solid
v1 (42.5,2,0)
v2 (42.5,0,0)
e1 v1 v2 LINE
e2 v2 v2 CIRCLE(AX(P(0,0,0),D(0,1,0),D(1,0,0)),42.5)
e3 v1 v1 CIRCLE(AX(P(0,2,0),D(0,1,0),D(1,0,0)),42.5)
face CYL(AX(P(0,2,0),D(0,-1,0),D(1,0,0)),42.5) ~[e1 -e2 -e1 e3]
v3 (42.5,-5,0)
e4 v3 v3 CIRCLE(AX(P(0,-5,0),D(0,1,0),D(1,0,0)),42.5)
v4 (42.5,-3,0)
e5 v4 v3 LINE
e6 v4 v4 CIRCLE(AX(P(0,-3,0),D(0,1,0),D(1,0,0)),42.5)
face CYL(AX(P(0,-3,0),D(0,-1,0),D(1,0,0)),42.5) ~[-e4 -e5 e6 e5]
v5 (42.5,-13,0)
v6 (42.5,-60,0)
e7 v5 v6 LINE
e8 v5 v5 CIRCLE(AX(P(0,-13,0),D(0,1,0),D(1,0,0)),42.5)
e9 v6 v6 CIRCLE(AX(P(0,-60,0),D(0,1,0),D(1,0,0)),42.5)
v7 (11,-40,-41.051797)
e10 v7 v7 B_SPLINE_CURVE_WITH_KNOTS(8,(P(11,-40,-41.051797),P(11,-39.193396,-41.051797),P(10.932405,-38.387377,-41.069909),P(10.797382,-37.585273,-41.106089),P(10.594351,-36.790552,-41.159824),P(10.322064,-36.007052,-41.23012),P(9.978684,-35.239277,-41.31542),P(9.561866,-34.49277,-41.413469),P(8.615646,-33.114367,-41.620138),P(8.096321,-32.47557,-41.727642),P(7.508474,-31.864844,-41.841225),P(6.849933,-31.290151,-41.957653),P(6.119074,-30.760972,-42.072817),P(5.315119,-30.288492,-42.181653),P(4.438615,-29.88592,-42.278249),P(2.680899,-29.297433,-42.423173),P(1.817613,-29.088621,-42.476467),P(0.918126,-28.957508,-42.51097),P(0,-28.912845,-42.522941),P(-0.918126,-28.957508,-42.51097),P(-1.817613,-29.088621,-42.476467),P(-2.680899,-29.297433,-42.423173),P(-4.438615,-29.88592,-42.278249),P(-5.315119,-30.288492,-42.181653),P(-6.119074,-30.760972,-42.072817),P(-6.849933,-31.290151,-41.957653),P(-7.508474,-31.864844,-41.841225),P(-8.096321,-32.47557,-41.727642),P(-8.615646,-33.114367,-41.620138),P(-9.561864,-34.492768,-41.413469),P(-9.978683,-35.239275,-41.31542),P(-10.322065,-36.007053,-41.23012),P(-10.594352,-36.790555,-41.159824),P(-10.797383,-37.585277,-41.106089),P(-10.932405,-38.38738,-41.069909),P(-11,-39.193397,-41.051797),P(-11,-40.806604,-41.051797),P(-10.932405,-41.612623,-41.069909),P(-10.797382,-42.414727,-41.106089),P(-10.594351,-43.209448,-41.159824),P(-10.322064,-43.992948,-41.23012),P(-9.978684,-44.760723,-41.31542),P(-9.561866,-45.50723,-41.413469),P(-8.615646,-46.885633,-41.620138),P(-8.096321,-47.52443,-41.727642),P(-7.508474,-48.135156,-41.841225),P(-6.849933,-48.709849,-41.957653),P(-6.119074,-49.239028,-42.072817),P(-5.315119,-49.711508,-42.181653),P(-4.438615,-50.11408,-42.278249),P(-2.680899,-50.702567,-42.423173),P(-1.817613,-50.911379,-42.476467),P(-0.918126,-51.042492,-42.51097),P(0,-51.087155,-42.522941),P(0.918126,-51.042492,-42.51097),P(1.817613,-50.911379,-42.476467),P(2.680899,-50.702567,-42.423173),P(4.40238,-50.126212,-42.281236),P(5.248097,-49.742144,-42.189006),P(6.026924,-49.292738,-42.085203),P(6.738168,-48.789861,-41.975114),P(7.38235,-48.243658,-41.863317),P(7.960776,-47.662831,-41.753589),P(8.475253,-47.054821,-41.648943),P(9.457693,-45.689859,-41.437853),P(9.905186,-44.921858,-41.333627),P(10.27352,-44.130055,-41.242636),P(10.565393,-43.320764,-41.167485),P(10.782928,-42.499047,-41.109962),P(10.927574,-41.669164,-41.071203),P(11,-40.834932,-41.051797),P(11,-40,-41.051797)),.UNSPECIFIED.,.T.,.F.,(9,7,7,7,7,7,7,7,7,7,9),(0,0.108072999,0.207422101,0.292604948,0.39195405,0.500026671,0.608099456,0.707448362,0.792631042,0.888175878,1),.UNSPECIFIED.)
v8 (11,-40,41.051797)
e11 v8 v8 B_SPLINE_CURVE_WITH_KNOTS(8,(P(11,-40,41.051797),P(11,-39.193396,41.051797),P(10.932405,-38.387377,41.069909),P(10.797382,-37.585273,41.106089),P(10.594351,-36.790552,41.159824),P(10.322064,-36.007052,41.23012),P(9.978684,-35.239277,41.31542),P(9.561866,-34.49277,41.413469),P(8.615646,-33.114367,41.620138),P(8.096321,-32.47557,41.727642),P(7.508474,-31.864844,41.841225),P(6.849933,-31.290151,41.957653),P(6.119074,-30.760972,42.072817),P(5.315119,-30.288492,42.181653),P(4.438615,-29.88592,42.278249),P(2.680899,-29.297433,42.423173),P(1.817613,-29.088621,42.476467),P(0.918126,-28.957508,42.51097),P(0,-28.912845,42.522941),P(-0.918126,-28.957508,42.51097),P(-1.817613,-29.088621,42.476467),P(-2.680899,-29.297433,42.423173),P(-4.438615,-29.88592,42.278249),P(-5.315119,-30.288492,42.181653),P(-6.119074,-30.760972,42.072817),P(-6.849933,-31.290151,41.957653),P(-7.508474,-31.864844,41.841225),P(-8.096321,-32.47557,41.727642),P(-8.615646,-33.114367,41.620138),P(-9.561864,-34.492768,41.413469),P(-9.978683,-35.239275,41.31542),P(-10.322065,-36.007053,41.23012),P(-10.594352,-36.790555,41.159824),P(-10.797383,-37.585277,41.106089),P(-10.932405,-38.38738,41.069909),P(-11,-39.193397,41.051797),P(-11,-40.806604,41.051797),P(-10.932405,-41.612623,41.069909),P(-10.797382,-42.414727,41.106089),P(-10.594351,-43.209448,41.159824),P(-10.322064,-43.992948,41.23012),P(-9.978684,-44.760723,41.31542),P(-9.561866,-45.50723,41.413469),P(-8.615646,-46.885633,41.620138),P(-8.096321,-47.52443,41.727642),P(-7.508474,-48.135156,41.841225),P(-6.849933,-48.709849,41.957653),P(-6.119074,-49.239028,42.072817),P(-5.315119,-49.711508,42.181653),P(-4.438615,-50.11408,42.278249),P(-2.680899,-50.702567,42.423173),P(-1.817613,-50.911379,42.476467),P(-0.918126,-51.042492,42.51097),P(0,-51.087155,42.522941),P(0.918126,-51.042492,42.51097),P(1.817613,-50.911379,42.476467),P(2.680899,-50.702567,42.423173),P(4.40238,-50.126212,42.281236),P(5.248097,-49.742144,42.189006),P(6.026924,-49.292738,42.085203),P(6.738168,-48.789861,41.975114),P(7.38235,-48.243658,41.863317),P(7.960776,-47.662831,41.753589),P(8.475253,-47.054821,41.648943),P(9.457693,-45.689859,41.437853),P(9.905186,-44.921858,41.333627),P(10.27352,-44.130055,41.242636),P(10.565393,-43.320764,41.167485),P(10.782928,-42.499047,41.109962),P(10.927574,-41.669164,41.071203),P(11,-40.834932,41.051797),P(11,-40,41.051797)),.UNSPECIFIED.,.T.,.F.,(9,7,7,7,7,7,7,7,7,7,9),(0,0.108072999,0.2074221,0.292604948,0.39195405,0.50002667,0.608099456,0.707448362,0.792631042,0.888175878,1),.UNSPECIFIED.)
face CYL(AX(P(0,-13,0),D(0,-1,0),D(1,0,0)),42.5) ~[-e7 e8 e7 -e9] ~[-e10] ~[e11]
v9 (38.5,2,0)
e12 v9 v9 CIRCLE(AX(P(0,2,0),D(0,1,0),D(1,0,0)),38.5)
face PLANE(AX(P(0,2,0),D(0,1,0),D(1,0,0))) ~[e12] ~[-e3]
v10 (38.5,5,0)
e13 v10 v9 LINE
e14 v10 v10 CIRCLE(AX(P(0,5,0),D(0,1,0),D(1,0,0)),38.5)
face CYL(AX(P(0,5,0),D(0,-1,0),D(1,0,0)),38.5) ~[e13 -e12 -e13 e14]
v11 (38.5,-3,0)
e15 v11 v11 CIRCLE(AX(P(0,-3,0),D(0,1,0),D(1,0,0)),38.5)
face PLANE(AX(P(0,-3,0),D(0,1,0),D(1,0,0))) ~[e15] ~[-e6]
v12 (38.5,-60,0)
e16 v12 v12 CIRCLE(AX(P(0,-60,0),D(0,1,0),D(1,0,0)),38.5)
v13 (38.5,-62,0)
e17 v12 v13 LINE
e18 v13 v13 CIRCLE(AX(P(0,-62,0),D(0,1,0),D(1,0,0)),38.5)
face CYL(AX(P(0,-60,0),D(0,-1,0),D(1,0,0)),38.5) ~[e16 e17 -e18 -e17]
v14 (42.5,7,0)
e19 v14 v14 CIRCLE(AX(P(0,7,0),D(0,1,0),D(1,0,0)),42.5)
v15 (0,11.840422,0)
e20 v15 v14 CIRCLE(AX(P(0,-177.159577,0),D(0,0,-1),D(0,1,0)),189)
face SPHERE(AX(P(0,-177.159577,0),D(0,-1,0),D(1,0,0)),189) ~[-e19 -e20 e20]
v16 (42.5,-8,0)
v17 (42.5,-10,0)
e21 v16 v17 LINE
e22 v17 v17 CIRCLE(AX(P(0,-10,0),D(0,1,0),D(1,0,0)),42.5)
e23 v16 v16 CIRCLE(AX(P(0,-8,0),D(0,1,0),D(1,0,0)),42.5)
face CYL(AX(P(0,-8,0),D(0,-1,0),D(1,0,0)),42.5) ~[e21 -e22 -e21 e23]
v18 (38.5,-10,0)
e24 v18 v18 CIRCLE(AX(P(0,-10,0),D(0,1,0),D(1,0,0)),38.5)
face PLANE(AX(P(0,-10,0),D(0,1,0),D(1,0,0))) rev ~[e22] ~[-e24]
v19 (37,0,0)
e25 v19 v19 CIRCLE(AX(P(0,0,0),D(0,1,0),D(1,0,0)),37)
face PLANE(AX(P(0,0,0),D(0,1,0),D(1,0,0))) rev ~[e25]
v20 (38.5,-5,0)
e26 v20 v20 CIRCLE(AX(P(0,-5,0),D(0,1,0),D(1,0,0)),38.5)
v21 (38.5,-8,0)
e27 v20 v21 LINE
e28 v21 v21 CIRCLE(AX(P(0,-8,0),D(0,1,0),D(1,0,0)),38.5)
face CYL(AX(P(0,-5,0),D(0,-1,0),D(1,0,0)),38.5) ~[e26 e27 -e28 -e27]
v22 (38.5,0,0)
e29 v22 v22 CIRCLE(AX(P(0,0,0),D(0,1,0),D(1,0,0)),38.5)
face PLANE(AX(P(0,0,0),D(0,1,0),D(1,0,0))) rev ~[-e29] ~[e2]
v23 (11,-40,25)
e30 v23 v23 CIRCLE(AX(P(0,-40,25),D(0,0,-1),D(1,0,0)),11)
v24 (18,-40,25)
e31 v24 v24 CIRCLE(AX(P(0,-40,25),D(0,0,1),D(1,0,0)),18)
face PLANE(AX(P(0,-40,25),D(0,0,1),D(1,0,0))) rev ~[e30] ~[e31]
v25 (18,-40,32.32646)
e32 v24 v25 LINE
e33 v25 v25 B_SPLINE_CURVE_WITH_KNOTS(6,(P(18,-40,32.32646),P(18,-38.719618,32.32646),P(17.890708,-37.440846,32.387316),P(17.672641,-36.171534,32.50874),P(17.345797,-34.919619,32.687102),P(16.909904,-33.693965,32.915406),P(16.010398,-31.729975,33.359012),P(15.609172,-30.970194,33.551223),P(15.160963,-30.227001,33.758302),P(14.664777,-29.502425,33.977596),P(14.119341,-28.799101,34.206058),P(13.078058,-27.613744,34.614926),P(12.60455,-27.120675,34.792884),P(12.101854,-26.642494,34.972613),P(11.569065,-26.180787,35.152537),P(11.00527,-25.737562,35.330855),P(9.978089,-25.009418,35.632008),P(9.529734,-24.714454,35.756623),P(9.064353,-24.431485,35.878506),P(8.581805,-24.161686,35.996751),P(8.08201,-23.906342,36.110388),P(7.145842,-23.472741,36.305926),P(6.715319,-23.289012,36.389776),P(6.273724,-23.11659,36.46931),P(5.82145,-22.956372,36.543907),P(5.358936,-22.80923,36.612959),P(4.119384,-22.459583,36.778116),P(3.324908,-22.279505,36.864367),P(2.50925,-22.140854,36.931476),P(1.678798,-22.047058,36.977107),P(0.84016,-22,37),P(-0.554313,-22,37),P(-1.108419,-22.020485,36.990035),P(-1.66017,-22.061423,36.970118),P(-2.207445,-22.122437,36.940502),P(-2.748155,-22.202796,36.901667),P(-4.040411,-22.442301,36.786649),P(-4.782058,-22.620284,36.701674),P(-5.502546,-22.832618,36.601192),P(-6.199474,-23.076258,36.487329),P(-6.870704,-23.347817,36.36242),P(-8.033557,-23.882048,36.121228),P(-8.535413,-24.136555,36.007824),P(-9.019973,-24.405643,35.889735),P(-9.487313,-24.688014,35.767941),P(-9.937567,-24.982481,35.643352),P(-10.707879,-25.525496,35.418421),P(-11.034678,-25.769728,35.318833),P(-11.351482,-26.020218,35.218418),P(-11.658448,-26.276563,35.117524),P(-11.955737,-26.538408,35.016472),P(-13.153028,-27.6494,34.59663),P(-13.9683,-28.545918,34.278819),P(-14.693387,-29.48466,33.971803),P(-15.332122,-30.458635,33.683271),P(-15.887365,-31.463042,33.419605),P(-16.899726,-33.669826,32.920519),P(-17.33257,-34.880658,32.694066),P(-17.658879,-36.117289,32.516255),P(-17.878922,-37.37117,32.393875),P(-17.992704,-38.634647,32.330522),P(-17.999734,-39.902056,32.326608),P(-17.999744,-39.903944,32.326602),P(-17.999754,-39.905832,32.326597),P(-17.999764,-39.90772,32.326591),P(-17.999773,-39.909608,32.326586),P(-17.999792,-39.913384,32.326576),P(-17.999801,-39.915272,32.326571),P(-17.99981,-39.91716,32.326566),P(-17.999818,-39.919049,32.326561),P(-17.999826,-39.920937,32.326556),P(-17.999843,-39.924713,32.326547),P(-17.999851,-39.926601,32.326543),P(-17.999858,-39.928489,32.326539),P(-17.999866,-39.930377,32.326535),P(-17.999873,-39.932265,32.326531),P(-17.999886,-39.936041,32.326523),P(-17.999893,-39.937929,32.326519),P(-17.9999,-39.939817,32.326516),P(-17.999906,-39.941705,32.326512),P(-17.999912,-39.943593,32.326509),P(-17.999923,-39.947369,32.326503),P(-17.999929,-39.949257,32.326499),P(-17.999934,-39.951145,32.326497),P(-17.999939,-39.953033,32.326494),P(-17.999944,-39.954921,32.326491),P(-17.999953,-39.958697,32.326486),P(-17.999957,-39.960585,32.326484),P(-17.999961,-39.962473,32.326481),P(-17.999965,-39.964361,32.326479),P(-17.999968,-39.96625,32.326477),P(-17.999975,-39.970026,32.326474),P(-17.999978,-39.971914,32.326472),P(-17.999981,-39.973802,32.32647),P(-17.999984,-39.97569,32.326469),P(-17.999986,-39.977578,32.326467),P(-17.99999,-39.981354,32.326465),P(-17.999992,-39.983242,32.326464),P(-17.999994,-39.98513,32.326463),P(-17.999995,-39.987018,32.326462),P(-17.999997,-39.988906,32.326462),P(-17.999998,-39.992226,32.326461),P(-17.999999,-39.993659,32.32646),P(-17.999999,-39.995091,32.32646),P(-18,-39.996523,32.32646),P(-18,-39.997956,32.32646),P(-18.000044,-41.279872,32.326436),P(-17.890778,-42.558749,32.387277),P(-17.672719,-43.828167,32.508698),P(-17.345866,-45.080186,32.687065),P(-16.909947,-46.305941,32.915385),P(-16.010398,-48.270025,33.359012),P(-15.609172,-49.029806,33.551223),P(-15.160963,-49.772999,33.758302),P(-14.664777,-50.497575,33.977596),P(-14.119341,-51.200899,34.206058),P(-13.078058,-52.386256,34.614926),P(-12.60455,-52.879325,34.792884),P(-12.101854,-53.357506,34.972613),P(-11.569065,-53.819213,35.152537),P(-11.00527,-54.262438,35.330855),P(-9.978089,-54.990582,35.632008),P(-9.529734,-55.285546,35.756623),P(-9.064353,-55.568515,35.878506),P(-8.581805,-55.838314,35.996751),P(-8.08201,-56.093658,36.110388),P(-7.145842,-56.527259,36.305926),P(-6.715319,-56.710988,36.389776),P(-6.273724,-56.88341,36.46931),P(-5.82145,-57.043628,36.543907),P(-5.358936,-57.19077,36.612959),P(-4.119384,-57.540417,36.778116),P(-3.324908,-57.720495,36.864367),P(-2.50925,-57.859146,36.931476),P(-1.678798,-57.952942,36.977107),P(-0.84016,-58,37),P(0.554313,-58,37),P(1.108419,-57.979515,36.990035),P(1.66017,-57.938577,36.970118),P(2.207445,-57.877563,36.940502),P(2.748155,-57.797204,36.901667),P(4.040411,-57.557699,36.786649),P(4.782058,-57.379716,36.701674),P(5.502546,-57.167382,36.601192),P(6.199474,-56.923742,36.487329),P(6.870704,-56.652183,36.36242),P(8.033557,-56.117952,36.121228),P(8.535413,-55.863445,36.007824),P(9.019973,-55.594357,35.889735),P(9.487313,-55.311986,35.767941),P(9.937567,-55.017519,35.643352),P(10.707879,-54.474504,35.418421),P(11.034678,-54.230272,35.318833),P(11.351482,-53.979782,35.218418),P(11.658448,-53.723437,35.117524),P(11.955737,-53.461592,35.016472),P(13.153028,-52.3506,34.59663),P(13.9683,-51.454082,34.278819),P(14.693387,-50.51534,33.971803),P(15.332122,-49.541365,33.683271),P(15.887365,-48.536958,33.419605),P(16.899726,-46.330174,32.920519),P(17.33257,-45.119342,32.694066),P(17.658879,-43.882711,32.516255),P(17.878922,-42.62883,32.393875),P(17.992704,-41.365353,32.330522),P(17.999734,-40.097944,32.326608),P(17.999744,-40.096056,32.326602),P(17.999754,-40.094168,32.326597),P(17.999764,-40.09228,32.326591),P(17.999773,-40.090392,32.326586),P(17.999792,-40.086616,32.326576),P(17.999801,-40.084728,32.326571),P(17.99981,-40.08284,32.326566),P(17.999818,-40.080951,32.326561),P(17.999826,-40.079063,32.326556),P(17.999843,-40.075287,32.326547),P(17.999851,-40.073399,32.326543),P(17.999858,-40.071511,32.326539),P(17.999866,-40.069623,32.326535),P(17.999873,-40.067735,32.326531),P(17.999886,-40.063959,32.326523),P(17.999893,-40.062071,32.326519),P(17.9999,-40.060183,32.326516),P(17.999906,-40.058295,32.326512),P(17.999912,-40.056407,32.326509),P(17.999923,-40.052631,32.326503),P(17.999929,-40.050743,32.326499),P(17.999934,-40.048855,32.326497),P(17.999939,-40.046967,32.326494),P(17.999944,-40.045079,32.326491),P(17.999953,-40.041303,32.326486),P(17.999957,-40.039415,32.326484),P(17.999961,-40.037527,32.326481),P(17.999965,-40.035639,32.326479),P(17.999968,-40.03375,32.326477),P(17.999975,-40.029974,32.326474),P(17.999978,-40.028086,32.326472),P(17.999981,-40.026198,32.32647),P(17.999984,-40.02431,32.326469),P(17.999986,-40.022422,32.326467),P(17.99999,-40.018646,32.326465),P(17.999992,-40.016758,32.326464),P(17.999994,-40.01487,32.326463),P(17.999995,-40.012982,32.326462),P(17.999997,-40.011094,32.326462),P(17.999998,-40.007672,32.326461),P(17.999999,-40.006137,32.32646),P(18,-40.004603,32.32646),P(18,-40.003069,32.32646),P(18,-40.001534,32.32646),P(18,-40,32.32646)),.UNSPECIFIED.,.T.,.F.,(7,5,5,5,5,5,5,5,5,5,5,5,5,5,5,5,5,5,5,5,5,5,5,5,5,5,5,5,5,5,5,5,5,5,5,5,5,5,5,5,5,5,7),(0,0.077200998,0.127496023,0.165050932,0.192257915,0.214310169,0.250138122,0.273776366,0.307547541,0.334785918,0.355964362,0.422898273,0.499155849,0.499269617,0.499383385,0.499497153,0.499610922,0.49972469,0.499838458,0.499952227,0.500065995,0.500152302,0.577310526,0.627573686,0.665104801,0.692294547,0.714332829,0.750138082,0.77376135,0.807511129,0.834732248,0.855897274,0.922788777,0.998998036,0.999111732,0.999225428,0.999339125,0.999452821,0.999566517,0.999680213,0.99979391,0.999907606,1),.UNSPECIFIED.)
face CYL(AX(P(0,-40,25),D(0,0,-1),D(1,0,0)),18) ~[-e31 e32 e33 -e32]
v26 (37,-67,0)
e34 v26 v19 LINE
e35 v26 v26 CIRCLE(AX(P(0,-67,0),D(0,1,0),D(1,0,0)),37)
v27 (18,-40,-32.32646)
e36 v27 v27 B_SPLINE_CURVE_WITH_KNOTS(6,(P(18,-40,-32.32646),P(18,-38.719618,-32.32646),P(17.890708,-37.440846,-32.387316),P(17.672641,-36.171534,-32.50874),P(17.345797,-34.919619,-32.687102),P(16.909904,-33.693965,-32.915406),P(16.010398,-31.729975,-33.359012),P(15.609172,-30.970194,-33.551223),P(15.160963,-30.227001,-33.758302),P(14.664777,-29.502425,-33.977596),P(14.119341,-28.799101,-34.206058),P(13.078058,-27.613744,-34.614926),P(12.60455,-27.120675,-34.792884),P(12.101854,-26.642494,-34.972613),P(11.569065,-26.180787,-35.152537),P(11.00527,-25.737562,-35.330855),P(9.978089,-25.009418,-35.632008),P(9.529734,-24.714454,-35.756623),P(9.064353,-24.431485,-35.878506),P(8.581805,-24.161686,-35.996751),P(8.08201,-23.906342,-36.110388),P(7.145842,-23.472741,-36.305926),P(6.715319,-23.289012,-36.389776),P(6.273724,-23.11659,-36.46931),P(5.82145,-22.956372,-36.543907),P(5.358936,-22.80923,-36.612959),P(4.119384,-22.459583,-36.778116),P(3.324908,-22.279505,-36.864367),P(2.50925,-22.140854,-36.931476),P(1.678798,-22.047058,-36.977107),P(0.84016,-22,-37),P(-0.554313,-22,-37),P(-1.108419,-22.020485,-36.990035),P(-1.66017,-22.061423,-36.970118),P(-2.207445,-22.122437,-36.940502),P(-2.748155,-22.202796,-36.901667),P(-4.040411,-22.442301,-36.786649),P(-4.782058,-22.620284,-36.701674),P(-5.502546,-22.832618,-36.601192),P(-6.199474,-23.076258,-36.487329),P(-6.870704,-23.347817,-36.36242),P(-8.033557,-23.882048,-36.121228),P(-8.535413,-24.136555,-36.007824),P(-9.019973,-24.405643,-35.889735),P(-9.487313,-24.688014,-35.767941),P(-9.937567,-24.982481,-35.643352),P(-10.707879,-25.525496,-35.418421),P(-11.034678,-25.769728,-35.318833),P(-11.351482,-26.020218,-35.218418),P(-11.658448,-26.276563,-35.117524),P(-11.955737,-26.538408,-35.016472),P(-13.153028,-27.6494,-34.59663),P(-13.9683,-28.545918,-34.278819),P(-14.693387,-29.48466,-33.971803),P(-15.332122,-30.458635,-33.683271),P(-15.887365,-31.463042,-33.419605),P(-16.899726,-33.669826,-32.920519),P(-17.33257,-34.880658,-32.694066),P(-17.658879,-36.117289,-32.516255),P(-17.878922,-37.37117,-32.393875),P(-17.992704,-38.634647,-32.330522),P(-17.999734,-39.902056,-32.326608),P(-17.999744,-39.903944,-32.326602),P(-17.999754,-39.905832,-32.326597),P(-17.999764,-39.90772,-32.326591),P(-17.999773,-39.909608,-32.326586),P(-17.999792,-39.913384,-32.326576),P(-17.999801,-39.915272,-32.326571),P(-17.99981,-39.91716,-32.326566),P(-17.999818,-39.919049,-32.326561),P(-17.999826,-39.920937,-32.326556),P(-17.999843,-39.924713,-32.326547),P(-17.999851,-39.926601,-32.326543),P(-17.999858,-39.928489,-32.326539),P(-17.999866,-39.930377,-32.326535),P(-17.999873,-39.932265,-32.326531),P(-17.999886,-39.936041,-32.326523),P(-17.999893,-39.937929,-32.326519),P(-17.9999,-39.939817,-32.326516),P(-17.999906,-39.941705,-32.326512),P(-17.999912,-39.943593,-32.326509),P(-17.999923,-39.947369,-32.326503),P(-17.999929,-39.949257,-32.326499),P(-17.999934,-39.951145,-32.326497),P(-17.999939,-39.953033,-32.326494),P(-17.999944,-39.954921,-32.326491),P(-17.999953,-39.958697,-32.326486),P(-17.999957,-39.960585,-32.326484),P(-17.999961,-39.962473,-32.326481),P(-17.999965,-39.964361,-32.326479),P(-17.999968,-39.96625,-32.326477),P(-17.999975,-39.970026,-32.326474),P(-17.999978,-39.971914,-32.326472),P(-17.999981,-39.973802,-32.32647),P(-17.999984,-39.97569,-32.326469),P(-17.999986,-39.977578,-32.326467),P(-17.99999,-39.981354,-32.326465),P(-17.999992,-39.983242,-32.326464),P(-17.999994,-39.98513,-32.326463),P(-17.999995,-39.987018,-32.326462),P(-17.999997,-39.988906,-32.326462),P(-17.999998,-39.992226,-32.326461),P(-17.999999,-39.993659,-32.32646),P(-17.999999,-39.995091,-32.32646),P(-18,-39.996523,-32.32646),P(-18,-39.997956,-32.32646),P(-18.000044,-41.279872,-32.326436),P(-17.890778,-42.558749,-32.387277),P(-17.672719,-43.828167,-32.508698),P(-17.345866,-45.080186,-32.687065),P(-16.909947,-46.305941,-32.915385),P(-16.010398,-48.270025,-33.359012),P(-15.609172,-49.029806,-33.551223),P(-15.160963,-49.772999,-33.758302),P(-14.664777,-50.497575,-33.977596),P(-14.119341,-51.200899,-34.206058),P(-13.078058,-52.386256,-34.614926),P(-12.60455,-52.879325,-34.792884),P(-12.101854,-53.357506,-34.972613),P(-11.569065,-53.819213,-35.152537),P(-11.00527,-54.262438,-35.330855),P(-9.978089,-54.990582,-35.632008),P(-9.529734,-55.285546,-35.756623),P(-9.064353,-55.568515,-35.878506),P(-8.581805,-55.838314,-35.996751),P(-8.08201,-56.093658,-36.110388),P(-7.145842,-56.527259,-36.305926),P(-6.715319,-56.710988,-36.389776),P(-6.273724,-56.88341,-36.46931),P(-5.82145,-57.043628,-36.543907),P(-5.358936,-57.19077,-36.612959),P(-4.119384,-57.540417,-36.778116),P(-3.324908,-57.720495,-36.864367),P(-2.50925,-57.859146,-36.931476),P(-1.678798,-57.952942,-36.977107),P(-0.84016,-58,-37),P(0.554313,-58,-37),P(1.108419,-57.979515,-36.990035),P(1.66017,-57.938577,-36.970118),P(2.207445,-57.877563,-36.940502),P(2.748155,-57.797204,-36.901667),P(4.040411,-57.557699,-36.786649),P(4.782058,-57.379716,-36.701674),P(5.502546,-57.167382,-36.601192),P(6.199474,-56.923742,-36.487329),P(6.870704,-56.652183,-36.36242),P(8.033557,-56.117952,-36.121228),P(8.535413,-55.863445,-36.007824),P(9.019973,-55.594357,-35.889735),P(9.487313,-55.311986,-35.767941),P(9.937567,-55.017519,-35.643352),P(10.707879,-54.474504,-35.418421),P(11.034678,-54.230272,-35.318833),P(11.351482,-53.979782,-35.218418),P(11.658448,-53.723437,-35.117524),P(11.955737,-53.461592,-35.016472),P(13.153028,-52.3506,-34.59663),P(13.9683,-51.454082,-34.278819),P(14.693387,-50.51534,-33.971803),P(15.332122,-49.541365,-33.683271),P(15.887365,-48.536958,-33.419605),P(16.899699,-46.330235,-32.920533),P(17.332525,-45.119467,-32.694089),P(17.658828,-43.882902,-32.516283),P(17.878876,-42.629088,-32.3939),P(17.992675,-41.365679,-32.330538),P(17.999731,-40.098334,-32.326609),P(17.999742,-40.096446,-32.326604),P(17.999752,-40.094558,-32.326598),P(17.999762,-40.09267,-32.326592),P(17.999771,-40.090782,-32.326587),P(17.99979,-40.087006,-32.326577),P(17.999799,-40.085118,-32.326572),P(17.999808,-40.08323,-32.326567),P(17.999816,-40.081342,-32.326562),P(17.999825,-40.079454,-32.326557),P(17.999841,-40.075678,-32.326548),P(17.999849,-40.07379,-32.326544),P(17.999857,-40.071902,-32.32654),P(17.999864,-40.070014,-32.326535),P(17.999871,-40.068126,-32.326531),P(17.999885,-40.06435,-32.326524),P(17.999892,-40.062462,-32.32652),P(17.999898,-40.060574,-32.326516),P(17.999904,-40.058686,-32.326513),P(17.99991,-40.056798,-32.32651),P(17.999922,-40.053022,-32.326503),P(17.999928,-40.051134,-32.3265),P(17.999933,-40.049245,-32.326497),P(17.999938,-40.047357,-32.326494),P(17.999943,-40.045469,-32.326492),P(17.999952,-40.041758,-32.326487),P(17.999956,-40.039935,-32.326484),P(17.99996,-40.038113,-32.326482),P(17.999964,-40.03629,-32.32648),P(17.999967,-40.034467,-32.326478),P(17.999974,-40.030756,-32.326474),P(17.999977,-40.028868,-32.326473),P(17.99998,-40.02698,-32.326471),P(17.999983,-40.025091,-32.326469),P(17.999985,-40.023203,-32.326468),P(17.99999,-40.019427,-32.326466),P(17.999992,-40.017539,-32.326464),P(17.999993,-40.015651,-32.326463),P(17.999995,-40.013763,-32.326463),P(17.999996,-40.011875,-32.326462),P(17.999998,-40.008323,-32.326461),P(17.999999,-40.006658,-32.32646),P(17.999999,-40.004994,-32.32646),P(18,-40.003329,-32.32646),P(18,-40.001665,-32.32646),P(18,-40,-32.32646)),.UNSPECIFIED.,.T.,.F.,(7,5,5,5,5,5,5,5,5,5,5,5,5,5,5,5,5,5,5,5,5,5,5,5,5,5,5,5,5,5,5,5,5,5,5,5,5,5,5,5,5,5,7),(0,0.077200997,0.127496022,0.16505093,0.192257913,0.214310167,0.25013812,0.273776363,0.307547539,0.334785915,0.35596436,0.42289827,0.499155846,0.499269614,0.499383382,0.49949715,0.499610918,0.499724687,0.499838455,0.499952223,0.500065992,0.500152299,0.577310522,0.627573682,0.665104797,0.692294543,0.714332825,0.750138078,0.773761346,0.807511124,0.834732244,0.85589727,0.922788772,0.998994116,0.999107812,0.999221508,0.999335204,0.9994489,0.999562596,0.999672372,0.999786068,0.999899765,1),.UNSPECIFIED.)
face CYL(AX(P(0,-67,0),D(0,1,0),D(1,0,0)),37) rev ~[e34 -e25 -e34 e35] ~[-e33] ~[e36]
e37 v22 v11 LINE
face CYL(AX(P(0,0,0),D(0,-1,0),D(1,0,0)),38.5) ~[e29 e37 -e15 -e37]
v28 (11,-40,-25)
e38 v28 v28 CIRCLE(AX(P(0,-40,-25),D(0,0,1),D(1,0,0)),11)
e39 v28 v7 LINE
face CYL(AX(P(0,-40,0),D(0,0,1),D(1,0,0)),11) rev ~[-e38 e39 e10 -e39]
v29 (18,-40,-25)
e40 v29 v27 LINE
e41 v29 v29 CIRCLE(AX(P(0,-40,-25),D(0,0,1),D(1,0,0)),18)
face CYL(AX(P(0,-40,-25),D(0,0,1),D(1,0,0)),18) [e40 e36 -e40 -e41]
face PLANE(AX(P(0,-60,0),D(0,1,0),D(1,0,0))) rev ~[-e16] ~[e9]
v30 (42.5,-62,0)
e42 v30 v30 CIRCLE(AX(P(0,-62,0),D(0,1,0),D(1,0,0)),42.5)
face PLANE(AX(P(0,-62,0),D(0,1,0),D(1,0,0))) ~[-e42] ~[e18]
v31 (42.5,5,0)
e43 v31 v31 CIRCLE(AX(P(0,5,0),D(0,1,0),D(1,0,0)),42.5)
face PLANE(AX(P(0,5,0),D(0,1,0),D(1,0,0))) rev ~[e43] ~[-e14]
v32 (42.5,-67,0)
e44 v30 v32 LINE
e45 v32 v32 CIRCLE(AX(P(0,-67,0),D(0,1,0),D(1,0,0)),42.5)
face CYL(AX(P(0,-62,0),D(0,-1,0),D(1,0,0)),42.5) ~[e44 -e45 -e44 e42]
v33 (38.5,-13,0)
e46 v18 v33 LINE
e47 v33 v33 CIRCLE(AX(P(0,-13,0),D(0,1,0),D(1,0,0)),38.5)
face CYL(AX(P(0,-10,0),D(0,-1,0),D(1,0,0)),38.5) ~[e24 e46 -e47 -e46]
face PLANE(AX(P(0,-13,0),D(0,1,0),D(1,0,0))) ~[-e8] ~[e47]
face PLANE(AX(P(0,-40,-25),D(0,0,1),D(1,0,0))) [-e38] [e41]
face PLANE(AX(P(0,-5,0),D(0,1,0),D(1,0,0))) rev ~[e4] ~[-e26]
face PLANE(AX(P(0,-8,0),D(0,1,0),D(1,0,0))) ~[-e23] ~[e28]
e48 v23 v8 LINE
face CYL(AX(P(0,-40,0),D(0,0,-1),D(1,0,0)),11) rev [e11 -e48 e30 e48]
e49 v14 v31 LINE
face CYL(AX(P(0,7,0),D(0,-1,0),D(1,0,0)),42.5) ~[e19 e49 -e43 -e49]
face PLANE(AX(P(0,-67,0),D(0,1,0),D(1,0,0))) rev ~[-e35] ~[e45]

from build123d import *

# Parameters (mm, degrees)
BOSS_EXTRUDE1_REACH     = 69.5
BOSS_EXTRUDE1_START     = 25
SKETCH2_R               = 18
BOSS_EXTRUDE2_REACH     = 69.5
BOSS_EXTRUDE2_START     = -25
SKETCH2_2_R             = 18
SKETCH3_R               = 11
CUT_EXTRUDE1_DEPTH      = 43.5
CUT_EXTRUDE1_DEPTH_BACK = 43.5


with BuildPart() as part:
    # Sketch1 → Revolve1 (revolve)
    with BuildSketch(Plane.XY):
        with BuildLine():
            Line((42.5, 7), (42.5, 5))
            Line((42.5, 5), (38.5, 5))
            Line((38.5, 5), (38.5, 2))
            Line((38.5, 2), (42.5, 2))
            Line((42.5, 2), (42.5, 0))
            Line((42.5, 0), (38.5, 0))
            Line((38.5, 0), (38.5, -3))
            Line((38.5, -3), (42.5, -3))
            Line((42.5, -3), (42.5, -5))
            Line((42.5, -5), (38.5, -5))
            Line((38.5, -5), (38.5, -8))
            Line((38.5, -8), (42.5, -8))
            Line((42.5, -8), (42.5, -10))
            Line((42.5, -10), (38.5, -10))
            Line((38.5, -10), (38.5, -13))
            Line((38.5, -13), (42.5, -13))
            Line((42.5, -13), (42.5, -60))
            Line((42.5, -60), (38.5, -60))
            Line((38.5, -60), (38.5, -62))
            Line((38.5, -62), (42.5, -62))
            Line((42.5, -62), (42.5, -67))
            Line((42.5, -67), (37, -67))
            Line((37, -67), (37, 0))
            Line((37, 0), (0, 0))
            Line((0, 0), (0, 11.840422459))
            ThreePointArc((0, 11.840422459), (21.387377642, 10.626417884), (42.5, 7))
        make_face()
    revolve(axis=Axis((0, 0, 0), (0, 1, 0)))

    # Sketch2 → Boss-Extrude1 (add, up to next)
    with BuildSketch(Plane.XY.offset(BOSS_EXTRUDE1_START), mode=Mode.PRIVATE) as boss_extrude1_sk1:
        with Locations((0, -40)):
            Circle(SKETCH2_R)
    boss_extrude1_tool1 = extrude(boss_extrude1_sk1.sketch, amount=BOSS_EXTRUDE1_REACH, mode=Mode.PRIVATE) - part.part
    add(boss_extrude1_tool1.solids().sort_by_distance((0, -40, 25))[0])

    # Sketch2<2> → Boss-Extrude2 (add, up to next)
    with BuildSketch(Plane.XY.offset(BOSS_EXTRUDE2_START), mode=Mode.PRIVATE) as boss_extrude2_sk1:
        with Locations((0, -40)):
            Circle(SKETCH2_2_R)
    boss_extrude2_tool1 = extrude(boss_extrude2_sk1.sketch, amount=-BOSS_EXTRUDE2_REACH, mode=Mode.PRIVATE) - part.part
    add(boss_extrude2_tool1.solids().sort_by_distance((0, -40, -25))[0])

    # Sketch3 → Cut-Extrude1 (cut, two sides)
    with BuildSketch(Plane.XY) as cut_extrude1_sk:
        with Locations((0, -40)):
            Circle(SKETCH3_R)
    extrude(amount=CUT_EXTRUDE1_DEPTH, mode=Mode.SUBTRACT)
    extrude(cut_extrude1_sk.sketch, amount=-CUT_EXTRUDE1_DEPTH_BACK, mode=Mode.SUBTRACT)


solid = part.part
